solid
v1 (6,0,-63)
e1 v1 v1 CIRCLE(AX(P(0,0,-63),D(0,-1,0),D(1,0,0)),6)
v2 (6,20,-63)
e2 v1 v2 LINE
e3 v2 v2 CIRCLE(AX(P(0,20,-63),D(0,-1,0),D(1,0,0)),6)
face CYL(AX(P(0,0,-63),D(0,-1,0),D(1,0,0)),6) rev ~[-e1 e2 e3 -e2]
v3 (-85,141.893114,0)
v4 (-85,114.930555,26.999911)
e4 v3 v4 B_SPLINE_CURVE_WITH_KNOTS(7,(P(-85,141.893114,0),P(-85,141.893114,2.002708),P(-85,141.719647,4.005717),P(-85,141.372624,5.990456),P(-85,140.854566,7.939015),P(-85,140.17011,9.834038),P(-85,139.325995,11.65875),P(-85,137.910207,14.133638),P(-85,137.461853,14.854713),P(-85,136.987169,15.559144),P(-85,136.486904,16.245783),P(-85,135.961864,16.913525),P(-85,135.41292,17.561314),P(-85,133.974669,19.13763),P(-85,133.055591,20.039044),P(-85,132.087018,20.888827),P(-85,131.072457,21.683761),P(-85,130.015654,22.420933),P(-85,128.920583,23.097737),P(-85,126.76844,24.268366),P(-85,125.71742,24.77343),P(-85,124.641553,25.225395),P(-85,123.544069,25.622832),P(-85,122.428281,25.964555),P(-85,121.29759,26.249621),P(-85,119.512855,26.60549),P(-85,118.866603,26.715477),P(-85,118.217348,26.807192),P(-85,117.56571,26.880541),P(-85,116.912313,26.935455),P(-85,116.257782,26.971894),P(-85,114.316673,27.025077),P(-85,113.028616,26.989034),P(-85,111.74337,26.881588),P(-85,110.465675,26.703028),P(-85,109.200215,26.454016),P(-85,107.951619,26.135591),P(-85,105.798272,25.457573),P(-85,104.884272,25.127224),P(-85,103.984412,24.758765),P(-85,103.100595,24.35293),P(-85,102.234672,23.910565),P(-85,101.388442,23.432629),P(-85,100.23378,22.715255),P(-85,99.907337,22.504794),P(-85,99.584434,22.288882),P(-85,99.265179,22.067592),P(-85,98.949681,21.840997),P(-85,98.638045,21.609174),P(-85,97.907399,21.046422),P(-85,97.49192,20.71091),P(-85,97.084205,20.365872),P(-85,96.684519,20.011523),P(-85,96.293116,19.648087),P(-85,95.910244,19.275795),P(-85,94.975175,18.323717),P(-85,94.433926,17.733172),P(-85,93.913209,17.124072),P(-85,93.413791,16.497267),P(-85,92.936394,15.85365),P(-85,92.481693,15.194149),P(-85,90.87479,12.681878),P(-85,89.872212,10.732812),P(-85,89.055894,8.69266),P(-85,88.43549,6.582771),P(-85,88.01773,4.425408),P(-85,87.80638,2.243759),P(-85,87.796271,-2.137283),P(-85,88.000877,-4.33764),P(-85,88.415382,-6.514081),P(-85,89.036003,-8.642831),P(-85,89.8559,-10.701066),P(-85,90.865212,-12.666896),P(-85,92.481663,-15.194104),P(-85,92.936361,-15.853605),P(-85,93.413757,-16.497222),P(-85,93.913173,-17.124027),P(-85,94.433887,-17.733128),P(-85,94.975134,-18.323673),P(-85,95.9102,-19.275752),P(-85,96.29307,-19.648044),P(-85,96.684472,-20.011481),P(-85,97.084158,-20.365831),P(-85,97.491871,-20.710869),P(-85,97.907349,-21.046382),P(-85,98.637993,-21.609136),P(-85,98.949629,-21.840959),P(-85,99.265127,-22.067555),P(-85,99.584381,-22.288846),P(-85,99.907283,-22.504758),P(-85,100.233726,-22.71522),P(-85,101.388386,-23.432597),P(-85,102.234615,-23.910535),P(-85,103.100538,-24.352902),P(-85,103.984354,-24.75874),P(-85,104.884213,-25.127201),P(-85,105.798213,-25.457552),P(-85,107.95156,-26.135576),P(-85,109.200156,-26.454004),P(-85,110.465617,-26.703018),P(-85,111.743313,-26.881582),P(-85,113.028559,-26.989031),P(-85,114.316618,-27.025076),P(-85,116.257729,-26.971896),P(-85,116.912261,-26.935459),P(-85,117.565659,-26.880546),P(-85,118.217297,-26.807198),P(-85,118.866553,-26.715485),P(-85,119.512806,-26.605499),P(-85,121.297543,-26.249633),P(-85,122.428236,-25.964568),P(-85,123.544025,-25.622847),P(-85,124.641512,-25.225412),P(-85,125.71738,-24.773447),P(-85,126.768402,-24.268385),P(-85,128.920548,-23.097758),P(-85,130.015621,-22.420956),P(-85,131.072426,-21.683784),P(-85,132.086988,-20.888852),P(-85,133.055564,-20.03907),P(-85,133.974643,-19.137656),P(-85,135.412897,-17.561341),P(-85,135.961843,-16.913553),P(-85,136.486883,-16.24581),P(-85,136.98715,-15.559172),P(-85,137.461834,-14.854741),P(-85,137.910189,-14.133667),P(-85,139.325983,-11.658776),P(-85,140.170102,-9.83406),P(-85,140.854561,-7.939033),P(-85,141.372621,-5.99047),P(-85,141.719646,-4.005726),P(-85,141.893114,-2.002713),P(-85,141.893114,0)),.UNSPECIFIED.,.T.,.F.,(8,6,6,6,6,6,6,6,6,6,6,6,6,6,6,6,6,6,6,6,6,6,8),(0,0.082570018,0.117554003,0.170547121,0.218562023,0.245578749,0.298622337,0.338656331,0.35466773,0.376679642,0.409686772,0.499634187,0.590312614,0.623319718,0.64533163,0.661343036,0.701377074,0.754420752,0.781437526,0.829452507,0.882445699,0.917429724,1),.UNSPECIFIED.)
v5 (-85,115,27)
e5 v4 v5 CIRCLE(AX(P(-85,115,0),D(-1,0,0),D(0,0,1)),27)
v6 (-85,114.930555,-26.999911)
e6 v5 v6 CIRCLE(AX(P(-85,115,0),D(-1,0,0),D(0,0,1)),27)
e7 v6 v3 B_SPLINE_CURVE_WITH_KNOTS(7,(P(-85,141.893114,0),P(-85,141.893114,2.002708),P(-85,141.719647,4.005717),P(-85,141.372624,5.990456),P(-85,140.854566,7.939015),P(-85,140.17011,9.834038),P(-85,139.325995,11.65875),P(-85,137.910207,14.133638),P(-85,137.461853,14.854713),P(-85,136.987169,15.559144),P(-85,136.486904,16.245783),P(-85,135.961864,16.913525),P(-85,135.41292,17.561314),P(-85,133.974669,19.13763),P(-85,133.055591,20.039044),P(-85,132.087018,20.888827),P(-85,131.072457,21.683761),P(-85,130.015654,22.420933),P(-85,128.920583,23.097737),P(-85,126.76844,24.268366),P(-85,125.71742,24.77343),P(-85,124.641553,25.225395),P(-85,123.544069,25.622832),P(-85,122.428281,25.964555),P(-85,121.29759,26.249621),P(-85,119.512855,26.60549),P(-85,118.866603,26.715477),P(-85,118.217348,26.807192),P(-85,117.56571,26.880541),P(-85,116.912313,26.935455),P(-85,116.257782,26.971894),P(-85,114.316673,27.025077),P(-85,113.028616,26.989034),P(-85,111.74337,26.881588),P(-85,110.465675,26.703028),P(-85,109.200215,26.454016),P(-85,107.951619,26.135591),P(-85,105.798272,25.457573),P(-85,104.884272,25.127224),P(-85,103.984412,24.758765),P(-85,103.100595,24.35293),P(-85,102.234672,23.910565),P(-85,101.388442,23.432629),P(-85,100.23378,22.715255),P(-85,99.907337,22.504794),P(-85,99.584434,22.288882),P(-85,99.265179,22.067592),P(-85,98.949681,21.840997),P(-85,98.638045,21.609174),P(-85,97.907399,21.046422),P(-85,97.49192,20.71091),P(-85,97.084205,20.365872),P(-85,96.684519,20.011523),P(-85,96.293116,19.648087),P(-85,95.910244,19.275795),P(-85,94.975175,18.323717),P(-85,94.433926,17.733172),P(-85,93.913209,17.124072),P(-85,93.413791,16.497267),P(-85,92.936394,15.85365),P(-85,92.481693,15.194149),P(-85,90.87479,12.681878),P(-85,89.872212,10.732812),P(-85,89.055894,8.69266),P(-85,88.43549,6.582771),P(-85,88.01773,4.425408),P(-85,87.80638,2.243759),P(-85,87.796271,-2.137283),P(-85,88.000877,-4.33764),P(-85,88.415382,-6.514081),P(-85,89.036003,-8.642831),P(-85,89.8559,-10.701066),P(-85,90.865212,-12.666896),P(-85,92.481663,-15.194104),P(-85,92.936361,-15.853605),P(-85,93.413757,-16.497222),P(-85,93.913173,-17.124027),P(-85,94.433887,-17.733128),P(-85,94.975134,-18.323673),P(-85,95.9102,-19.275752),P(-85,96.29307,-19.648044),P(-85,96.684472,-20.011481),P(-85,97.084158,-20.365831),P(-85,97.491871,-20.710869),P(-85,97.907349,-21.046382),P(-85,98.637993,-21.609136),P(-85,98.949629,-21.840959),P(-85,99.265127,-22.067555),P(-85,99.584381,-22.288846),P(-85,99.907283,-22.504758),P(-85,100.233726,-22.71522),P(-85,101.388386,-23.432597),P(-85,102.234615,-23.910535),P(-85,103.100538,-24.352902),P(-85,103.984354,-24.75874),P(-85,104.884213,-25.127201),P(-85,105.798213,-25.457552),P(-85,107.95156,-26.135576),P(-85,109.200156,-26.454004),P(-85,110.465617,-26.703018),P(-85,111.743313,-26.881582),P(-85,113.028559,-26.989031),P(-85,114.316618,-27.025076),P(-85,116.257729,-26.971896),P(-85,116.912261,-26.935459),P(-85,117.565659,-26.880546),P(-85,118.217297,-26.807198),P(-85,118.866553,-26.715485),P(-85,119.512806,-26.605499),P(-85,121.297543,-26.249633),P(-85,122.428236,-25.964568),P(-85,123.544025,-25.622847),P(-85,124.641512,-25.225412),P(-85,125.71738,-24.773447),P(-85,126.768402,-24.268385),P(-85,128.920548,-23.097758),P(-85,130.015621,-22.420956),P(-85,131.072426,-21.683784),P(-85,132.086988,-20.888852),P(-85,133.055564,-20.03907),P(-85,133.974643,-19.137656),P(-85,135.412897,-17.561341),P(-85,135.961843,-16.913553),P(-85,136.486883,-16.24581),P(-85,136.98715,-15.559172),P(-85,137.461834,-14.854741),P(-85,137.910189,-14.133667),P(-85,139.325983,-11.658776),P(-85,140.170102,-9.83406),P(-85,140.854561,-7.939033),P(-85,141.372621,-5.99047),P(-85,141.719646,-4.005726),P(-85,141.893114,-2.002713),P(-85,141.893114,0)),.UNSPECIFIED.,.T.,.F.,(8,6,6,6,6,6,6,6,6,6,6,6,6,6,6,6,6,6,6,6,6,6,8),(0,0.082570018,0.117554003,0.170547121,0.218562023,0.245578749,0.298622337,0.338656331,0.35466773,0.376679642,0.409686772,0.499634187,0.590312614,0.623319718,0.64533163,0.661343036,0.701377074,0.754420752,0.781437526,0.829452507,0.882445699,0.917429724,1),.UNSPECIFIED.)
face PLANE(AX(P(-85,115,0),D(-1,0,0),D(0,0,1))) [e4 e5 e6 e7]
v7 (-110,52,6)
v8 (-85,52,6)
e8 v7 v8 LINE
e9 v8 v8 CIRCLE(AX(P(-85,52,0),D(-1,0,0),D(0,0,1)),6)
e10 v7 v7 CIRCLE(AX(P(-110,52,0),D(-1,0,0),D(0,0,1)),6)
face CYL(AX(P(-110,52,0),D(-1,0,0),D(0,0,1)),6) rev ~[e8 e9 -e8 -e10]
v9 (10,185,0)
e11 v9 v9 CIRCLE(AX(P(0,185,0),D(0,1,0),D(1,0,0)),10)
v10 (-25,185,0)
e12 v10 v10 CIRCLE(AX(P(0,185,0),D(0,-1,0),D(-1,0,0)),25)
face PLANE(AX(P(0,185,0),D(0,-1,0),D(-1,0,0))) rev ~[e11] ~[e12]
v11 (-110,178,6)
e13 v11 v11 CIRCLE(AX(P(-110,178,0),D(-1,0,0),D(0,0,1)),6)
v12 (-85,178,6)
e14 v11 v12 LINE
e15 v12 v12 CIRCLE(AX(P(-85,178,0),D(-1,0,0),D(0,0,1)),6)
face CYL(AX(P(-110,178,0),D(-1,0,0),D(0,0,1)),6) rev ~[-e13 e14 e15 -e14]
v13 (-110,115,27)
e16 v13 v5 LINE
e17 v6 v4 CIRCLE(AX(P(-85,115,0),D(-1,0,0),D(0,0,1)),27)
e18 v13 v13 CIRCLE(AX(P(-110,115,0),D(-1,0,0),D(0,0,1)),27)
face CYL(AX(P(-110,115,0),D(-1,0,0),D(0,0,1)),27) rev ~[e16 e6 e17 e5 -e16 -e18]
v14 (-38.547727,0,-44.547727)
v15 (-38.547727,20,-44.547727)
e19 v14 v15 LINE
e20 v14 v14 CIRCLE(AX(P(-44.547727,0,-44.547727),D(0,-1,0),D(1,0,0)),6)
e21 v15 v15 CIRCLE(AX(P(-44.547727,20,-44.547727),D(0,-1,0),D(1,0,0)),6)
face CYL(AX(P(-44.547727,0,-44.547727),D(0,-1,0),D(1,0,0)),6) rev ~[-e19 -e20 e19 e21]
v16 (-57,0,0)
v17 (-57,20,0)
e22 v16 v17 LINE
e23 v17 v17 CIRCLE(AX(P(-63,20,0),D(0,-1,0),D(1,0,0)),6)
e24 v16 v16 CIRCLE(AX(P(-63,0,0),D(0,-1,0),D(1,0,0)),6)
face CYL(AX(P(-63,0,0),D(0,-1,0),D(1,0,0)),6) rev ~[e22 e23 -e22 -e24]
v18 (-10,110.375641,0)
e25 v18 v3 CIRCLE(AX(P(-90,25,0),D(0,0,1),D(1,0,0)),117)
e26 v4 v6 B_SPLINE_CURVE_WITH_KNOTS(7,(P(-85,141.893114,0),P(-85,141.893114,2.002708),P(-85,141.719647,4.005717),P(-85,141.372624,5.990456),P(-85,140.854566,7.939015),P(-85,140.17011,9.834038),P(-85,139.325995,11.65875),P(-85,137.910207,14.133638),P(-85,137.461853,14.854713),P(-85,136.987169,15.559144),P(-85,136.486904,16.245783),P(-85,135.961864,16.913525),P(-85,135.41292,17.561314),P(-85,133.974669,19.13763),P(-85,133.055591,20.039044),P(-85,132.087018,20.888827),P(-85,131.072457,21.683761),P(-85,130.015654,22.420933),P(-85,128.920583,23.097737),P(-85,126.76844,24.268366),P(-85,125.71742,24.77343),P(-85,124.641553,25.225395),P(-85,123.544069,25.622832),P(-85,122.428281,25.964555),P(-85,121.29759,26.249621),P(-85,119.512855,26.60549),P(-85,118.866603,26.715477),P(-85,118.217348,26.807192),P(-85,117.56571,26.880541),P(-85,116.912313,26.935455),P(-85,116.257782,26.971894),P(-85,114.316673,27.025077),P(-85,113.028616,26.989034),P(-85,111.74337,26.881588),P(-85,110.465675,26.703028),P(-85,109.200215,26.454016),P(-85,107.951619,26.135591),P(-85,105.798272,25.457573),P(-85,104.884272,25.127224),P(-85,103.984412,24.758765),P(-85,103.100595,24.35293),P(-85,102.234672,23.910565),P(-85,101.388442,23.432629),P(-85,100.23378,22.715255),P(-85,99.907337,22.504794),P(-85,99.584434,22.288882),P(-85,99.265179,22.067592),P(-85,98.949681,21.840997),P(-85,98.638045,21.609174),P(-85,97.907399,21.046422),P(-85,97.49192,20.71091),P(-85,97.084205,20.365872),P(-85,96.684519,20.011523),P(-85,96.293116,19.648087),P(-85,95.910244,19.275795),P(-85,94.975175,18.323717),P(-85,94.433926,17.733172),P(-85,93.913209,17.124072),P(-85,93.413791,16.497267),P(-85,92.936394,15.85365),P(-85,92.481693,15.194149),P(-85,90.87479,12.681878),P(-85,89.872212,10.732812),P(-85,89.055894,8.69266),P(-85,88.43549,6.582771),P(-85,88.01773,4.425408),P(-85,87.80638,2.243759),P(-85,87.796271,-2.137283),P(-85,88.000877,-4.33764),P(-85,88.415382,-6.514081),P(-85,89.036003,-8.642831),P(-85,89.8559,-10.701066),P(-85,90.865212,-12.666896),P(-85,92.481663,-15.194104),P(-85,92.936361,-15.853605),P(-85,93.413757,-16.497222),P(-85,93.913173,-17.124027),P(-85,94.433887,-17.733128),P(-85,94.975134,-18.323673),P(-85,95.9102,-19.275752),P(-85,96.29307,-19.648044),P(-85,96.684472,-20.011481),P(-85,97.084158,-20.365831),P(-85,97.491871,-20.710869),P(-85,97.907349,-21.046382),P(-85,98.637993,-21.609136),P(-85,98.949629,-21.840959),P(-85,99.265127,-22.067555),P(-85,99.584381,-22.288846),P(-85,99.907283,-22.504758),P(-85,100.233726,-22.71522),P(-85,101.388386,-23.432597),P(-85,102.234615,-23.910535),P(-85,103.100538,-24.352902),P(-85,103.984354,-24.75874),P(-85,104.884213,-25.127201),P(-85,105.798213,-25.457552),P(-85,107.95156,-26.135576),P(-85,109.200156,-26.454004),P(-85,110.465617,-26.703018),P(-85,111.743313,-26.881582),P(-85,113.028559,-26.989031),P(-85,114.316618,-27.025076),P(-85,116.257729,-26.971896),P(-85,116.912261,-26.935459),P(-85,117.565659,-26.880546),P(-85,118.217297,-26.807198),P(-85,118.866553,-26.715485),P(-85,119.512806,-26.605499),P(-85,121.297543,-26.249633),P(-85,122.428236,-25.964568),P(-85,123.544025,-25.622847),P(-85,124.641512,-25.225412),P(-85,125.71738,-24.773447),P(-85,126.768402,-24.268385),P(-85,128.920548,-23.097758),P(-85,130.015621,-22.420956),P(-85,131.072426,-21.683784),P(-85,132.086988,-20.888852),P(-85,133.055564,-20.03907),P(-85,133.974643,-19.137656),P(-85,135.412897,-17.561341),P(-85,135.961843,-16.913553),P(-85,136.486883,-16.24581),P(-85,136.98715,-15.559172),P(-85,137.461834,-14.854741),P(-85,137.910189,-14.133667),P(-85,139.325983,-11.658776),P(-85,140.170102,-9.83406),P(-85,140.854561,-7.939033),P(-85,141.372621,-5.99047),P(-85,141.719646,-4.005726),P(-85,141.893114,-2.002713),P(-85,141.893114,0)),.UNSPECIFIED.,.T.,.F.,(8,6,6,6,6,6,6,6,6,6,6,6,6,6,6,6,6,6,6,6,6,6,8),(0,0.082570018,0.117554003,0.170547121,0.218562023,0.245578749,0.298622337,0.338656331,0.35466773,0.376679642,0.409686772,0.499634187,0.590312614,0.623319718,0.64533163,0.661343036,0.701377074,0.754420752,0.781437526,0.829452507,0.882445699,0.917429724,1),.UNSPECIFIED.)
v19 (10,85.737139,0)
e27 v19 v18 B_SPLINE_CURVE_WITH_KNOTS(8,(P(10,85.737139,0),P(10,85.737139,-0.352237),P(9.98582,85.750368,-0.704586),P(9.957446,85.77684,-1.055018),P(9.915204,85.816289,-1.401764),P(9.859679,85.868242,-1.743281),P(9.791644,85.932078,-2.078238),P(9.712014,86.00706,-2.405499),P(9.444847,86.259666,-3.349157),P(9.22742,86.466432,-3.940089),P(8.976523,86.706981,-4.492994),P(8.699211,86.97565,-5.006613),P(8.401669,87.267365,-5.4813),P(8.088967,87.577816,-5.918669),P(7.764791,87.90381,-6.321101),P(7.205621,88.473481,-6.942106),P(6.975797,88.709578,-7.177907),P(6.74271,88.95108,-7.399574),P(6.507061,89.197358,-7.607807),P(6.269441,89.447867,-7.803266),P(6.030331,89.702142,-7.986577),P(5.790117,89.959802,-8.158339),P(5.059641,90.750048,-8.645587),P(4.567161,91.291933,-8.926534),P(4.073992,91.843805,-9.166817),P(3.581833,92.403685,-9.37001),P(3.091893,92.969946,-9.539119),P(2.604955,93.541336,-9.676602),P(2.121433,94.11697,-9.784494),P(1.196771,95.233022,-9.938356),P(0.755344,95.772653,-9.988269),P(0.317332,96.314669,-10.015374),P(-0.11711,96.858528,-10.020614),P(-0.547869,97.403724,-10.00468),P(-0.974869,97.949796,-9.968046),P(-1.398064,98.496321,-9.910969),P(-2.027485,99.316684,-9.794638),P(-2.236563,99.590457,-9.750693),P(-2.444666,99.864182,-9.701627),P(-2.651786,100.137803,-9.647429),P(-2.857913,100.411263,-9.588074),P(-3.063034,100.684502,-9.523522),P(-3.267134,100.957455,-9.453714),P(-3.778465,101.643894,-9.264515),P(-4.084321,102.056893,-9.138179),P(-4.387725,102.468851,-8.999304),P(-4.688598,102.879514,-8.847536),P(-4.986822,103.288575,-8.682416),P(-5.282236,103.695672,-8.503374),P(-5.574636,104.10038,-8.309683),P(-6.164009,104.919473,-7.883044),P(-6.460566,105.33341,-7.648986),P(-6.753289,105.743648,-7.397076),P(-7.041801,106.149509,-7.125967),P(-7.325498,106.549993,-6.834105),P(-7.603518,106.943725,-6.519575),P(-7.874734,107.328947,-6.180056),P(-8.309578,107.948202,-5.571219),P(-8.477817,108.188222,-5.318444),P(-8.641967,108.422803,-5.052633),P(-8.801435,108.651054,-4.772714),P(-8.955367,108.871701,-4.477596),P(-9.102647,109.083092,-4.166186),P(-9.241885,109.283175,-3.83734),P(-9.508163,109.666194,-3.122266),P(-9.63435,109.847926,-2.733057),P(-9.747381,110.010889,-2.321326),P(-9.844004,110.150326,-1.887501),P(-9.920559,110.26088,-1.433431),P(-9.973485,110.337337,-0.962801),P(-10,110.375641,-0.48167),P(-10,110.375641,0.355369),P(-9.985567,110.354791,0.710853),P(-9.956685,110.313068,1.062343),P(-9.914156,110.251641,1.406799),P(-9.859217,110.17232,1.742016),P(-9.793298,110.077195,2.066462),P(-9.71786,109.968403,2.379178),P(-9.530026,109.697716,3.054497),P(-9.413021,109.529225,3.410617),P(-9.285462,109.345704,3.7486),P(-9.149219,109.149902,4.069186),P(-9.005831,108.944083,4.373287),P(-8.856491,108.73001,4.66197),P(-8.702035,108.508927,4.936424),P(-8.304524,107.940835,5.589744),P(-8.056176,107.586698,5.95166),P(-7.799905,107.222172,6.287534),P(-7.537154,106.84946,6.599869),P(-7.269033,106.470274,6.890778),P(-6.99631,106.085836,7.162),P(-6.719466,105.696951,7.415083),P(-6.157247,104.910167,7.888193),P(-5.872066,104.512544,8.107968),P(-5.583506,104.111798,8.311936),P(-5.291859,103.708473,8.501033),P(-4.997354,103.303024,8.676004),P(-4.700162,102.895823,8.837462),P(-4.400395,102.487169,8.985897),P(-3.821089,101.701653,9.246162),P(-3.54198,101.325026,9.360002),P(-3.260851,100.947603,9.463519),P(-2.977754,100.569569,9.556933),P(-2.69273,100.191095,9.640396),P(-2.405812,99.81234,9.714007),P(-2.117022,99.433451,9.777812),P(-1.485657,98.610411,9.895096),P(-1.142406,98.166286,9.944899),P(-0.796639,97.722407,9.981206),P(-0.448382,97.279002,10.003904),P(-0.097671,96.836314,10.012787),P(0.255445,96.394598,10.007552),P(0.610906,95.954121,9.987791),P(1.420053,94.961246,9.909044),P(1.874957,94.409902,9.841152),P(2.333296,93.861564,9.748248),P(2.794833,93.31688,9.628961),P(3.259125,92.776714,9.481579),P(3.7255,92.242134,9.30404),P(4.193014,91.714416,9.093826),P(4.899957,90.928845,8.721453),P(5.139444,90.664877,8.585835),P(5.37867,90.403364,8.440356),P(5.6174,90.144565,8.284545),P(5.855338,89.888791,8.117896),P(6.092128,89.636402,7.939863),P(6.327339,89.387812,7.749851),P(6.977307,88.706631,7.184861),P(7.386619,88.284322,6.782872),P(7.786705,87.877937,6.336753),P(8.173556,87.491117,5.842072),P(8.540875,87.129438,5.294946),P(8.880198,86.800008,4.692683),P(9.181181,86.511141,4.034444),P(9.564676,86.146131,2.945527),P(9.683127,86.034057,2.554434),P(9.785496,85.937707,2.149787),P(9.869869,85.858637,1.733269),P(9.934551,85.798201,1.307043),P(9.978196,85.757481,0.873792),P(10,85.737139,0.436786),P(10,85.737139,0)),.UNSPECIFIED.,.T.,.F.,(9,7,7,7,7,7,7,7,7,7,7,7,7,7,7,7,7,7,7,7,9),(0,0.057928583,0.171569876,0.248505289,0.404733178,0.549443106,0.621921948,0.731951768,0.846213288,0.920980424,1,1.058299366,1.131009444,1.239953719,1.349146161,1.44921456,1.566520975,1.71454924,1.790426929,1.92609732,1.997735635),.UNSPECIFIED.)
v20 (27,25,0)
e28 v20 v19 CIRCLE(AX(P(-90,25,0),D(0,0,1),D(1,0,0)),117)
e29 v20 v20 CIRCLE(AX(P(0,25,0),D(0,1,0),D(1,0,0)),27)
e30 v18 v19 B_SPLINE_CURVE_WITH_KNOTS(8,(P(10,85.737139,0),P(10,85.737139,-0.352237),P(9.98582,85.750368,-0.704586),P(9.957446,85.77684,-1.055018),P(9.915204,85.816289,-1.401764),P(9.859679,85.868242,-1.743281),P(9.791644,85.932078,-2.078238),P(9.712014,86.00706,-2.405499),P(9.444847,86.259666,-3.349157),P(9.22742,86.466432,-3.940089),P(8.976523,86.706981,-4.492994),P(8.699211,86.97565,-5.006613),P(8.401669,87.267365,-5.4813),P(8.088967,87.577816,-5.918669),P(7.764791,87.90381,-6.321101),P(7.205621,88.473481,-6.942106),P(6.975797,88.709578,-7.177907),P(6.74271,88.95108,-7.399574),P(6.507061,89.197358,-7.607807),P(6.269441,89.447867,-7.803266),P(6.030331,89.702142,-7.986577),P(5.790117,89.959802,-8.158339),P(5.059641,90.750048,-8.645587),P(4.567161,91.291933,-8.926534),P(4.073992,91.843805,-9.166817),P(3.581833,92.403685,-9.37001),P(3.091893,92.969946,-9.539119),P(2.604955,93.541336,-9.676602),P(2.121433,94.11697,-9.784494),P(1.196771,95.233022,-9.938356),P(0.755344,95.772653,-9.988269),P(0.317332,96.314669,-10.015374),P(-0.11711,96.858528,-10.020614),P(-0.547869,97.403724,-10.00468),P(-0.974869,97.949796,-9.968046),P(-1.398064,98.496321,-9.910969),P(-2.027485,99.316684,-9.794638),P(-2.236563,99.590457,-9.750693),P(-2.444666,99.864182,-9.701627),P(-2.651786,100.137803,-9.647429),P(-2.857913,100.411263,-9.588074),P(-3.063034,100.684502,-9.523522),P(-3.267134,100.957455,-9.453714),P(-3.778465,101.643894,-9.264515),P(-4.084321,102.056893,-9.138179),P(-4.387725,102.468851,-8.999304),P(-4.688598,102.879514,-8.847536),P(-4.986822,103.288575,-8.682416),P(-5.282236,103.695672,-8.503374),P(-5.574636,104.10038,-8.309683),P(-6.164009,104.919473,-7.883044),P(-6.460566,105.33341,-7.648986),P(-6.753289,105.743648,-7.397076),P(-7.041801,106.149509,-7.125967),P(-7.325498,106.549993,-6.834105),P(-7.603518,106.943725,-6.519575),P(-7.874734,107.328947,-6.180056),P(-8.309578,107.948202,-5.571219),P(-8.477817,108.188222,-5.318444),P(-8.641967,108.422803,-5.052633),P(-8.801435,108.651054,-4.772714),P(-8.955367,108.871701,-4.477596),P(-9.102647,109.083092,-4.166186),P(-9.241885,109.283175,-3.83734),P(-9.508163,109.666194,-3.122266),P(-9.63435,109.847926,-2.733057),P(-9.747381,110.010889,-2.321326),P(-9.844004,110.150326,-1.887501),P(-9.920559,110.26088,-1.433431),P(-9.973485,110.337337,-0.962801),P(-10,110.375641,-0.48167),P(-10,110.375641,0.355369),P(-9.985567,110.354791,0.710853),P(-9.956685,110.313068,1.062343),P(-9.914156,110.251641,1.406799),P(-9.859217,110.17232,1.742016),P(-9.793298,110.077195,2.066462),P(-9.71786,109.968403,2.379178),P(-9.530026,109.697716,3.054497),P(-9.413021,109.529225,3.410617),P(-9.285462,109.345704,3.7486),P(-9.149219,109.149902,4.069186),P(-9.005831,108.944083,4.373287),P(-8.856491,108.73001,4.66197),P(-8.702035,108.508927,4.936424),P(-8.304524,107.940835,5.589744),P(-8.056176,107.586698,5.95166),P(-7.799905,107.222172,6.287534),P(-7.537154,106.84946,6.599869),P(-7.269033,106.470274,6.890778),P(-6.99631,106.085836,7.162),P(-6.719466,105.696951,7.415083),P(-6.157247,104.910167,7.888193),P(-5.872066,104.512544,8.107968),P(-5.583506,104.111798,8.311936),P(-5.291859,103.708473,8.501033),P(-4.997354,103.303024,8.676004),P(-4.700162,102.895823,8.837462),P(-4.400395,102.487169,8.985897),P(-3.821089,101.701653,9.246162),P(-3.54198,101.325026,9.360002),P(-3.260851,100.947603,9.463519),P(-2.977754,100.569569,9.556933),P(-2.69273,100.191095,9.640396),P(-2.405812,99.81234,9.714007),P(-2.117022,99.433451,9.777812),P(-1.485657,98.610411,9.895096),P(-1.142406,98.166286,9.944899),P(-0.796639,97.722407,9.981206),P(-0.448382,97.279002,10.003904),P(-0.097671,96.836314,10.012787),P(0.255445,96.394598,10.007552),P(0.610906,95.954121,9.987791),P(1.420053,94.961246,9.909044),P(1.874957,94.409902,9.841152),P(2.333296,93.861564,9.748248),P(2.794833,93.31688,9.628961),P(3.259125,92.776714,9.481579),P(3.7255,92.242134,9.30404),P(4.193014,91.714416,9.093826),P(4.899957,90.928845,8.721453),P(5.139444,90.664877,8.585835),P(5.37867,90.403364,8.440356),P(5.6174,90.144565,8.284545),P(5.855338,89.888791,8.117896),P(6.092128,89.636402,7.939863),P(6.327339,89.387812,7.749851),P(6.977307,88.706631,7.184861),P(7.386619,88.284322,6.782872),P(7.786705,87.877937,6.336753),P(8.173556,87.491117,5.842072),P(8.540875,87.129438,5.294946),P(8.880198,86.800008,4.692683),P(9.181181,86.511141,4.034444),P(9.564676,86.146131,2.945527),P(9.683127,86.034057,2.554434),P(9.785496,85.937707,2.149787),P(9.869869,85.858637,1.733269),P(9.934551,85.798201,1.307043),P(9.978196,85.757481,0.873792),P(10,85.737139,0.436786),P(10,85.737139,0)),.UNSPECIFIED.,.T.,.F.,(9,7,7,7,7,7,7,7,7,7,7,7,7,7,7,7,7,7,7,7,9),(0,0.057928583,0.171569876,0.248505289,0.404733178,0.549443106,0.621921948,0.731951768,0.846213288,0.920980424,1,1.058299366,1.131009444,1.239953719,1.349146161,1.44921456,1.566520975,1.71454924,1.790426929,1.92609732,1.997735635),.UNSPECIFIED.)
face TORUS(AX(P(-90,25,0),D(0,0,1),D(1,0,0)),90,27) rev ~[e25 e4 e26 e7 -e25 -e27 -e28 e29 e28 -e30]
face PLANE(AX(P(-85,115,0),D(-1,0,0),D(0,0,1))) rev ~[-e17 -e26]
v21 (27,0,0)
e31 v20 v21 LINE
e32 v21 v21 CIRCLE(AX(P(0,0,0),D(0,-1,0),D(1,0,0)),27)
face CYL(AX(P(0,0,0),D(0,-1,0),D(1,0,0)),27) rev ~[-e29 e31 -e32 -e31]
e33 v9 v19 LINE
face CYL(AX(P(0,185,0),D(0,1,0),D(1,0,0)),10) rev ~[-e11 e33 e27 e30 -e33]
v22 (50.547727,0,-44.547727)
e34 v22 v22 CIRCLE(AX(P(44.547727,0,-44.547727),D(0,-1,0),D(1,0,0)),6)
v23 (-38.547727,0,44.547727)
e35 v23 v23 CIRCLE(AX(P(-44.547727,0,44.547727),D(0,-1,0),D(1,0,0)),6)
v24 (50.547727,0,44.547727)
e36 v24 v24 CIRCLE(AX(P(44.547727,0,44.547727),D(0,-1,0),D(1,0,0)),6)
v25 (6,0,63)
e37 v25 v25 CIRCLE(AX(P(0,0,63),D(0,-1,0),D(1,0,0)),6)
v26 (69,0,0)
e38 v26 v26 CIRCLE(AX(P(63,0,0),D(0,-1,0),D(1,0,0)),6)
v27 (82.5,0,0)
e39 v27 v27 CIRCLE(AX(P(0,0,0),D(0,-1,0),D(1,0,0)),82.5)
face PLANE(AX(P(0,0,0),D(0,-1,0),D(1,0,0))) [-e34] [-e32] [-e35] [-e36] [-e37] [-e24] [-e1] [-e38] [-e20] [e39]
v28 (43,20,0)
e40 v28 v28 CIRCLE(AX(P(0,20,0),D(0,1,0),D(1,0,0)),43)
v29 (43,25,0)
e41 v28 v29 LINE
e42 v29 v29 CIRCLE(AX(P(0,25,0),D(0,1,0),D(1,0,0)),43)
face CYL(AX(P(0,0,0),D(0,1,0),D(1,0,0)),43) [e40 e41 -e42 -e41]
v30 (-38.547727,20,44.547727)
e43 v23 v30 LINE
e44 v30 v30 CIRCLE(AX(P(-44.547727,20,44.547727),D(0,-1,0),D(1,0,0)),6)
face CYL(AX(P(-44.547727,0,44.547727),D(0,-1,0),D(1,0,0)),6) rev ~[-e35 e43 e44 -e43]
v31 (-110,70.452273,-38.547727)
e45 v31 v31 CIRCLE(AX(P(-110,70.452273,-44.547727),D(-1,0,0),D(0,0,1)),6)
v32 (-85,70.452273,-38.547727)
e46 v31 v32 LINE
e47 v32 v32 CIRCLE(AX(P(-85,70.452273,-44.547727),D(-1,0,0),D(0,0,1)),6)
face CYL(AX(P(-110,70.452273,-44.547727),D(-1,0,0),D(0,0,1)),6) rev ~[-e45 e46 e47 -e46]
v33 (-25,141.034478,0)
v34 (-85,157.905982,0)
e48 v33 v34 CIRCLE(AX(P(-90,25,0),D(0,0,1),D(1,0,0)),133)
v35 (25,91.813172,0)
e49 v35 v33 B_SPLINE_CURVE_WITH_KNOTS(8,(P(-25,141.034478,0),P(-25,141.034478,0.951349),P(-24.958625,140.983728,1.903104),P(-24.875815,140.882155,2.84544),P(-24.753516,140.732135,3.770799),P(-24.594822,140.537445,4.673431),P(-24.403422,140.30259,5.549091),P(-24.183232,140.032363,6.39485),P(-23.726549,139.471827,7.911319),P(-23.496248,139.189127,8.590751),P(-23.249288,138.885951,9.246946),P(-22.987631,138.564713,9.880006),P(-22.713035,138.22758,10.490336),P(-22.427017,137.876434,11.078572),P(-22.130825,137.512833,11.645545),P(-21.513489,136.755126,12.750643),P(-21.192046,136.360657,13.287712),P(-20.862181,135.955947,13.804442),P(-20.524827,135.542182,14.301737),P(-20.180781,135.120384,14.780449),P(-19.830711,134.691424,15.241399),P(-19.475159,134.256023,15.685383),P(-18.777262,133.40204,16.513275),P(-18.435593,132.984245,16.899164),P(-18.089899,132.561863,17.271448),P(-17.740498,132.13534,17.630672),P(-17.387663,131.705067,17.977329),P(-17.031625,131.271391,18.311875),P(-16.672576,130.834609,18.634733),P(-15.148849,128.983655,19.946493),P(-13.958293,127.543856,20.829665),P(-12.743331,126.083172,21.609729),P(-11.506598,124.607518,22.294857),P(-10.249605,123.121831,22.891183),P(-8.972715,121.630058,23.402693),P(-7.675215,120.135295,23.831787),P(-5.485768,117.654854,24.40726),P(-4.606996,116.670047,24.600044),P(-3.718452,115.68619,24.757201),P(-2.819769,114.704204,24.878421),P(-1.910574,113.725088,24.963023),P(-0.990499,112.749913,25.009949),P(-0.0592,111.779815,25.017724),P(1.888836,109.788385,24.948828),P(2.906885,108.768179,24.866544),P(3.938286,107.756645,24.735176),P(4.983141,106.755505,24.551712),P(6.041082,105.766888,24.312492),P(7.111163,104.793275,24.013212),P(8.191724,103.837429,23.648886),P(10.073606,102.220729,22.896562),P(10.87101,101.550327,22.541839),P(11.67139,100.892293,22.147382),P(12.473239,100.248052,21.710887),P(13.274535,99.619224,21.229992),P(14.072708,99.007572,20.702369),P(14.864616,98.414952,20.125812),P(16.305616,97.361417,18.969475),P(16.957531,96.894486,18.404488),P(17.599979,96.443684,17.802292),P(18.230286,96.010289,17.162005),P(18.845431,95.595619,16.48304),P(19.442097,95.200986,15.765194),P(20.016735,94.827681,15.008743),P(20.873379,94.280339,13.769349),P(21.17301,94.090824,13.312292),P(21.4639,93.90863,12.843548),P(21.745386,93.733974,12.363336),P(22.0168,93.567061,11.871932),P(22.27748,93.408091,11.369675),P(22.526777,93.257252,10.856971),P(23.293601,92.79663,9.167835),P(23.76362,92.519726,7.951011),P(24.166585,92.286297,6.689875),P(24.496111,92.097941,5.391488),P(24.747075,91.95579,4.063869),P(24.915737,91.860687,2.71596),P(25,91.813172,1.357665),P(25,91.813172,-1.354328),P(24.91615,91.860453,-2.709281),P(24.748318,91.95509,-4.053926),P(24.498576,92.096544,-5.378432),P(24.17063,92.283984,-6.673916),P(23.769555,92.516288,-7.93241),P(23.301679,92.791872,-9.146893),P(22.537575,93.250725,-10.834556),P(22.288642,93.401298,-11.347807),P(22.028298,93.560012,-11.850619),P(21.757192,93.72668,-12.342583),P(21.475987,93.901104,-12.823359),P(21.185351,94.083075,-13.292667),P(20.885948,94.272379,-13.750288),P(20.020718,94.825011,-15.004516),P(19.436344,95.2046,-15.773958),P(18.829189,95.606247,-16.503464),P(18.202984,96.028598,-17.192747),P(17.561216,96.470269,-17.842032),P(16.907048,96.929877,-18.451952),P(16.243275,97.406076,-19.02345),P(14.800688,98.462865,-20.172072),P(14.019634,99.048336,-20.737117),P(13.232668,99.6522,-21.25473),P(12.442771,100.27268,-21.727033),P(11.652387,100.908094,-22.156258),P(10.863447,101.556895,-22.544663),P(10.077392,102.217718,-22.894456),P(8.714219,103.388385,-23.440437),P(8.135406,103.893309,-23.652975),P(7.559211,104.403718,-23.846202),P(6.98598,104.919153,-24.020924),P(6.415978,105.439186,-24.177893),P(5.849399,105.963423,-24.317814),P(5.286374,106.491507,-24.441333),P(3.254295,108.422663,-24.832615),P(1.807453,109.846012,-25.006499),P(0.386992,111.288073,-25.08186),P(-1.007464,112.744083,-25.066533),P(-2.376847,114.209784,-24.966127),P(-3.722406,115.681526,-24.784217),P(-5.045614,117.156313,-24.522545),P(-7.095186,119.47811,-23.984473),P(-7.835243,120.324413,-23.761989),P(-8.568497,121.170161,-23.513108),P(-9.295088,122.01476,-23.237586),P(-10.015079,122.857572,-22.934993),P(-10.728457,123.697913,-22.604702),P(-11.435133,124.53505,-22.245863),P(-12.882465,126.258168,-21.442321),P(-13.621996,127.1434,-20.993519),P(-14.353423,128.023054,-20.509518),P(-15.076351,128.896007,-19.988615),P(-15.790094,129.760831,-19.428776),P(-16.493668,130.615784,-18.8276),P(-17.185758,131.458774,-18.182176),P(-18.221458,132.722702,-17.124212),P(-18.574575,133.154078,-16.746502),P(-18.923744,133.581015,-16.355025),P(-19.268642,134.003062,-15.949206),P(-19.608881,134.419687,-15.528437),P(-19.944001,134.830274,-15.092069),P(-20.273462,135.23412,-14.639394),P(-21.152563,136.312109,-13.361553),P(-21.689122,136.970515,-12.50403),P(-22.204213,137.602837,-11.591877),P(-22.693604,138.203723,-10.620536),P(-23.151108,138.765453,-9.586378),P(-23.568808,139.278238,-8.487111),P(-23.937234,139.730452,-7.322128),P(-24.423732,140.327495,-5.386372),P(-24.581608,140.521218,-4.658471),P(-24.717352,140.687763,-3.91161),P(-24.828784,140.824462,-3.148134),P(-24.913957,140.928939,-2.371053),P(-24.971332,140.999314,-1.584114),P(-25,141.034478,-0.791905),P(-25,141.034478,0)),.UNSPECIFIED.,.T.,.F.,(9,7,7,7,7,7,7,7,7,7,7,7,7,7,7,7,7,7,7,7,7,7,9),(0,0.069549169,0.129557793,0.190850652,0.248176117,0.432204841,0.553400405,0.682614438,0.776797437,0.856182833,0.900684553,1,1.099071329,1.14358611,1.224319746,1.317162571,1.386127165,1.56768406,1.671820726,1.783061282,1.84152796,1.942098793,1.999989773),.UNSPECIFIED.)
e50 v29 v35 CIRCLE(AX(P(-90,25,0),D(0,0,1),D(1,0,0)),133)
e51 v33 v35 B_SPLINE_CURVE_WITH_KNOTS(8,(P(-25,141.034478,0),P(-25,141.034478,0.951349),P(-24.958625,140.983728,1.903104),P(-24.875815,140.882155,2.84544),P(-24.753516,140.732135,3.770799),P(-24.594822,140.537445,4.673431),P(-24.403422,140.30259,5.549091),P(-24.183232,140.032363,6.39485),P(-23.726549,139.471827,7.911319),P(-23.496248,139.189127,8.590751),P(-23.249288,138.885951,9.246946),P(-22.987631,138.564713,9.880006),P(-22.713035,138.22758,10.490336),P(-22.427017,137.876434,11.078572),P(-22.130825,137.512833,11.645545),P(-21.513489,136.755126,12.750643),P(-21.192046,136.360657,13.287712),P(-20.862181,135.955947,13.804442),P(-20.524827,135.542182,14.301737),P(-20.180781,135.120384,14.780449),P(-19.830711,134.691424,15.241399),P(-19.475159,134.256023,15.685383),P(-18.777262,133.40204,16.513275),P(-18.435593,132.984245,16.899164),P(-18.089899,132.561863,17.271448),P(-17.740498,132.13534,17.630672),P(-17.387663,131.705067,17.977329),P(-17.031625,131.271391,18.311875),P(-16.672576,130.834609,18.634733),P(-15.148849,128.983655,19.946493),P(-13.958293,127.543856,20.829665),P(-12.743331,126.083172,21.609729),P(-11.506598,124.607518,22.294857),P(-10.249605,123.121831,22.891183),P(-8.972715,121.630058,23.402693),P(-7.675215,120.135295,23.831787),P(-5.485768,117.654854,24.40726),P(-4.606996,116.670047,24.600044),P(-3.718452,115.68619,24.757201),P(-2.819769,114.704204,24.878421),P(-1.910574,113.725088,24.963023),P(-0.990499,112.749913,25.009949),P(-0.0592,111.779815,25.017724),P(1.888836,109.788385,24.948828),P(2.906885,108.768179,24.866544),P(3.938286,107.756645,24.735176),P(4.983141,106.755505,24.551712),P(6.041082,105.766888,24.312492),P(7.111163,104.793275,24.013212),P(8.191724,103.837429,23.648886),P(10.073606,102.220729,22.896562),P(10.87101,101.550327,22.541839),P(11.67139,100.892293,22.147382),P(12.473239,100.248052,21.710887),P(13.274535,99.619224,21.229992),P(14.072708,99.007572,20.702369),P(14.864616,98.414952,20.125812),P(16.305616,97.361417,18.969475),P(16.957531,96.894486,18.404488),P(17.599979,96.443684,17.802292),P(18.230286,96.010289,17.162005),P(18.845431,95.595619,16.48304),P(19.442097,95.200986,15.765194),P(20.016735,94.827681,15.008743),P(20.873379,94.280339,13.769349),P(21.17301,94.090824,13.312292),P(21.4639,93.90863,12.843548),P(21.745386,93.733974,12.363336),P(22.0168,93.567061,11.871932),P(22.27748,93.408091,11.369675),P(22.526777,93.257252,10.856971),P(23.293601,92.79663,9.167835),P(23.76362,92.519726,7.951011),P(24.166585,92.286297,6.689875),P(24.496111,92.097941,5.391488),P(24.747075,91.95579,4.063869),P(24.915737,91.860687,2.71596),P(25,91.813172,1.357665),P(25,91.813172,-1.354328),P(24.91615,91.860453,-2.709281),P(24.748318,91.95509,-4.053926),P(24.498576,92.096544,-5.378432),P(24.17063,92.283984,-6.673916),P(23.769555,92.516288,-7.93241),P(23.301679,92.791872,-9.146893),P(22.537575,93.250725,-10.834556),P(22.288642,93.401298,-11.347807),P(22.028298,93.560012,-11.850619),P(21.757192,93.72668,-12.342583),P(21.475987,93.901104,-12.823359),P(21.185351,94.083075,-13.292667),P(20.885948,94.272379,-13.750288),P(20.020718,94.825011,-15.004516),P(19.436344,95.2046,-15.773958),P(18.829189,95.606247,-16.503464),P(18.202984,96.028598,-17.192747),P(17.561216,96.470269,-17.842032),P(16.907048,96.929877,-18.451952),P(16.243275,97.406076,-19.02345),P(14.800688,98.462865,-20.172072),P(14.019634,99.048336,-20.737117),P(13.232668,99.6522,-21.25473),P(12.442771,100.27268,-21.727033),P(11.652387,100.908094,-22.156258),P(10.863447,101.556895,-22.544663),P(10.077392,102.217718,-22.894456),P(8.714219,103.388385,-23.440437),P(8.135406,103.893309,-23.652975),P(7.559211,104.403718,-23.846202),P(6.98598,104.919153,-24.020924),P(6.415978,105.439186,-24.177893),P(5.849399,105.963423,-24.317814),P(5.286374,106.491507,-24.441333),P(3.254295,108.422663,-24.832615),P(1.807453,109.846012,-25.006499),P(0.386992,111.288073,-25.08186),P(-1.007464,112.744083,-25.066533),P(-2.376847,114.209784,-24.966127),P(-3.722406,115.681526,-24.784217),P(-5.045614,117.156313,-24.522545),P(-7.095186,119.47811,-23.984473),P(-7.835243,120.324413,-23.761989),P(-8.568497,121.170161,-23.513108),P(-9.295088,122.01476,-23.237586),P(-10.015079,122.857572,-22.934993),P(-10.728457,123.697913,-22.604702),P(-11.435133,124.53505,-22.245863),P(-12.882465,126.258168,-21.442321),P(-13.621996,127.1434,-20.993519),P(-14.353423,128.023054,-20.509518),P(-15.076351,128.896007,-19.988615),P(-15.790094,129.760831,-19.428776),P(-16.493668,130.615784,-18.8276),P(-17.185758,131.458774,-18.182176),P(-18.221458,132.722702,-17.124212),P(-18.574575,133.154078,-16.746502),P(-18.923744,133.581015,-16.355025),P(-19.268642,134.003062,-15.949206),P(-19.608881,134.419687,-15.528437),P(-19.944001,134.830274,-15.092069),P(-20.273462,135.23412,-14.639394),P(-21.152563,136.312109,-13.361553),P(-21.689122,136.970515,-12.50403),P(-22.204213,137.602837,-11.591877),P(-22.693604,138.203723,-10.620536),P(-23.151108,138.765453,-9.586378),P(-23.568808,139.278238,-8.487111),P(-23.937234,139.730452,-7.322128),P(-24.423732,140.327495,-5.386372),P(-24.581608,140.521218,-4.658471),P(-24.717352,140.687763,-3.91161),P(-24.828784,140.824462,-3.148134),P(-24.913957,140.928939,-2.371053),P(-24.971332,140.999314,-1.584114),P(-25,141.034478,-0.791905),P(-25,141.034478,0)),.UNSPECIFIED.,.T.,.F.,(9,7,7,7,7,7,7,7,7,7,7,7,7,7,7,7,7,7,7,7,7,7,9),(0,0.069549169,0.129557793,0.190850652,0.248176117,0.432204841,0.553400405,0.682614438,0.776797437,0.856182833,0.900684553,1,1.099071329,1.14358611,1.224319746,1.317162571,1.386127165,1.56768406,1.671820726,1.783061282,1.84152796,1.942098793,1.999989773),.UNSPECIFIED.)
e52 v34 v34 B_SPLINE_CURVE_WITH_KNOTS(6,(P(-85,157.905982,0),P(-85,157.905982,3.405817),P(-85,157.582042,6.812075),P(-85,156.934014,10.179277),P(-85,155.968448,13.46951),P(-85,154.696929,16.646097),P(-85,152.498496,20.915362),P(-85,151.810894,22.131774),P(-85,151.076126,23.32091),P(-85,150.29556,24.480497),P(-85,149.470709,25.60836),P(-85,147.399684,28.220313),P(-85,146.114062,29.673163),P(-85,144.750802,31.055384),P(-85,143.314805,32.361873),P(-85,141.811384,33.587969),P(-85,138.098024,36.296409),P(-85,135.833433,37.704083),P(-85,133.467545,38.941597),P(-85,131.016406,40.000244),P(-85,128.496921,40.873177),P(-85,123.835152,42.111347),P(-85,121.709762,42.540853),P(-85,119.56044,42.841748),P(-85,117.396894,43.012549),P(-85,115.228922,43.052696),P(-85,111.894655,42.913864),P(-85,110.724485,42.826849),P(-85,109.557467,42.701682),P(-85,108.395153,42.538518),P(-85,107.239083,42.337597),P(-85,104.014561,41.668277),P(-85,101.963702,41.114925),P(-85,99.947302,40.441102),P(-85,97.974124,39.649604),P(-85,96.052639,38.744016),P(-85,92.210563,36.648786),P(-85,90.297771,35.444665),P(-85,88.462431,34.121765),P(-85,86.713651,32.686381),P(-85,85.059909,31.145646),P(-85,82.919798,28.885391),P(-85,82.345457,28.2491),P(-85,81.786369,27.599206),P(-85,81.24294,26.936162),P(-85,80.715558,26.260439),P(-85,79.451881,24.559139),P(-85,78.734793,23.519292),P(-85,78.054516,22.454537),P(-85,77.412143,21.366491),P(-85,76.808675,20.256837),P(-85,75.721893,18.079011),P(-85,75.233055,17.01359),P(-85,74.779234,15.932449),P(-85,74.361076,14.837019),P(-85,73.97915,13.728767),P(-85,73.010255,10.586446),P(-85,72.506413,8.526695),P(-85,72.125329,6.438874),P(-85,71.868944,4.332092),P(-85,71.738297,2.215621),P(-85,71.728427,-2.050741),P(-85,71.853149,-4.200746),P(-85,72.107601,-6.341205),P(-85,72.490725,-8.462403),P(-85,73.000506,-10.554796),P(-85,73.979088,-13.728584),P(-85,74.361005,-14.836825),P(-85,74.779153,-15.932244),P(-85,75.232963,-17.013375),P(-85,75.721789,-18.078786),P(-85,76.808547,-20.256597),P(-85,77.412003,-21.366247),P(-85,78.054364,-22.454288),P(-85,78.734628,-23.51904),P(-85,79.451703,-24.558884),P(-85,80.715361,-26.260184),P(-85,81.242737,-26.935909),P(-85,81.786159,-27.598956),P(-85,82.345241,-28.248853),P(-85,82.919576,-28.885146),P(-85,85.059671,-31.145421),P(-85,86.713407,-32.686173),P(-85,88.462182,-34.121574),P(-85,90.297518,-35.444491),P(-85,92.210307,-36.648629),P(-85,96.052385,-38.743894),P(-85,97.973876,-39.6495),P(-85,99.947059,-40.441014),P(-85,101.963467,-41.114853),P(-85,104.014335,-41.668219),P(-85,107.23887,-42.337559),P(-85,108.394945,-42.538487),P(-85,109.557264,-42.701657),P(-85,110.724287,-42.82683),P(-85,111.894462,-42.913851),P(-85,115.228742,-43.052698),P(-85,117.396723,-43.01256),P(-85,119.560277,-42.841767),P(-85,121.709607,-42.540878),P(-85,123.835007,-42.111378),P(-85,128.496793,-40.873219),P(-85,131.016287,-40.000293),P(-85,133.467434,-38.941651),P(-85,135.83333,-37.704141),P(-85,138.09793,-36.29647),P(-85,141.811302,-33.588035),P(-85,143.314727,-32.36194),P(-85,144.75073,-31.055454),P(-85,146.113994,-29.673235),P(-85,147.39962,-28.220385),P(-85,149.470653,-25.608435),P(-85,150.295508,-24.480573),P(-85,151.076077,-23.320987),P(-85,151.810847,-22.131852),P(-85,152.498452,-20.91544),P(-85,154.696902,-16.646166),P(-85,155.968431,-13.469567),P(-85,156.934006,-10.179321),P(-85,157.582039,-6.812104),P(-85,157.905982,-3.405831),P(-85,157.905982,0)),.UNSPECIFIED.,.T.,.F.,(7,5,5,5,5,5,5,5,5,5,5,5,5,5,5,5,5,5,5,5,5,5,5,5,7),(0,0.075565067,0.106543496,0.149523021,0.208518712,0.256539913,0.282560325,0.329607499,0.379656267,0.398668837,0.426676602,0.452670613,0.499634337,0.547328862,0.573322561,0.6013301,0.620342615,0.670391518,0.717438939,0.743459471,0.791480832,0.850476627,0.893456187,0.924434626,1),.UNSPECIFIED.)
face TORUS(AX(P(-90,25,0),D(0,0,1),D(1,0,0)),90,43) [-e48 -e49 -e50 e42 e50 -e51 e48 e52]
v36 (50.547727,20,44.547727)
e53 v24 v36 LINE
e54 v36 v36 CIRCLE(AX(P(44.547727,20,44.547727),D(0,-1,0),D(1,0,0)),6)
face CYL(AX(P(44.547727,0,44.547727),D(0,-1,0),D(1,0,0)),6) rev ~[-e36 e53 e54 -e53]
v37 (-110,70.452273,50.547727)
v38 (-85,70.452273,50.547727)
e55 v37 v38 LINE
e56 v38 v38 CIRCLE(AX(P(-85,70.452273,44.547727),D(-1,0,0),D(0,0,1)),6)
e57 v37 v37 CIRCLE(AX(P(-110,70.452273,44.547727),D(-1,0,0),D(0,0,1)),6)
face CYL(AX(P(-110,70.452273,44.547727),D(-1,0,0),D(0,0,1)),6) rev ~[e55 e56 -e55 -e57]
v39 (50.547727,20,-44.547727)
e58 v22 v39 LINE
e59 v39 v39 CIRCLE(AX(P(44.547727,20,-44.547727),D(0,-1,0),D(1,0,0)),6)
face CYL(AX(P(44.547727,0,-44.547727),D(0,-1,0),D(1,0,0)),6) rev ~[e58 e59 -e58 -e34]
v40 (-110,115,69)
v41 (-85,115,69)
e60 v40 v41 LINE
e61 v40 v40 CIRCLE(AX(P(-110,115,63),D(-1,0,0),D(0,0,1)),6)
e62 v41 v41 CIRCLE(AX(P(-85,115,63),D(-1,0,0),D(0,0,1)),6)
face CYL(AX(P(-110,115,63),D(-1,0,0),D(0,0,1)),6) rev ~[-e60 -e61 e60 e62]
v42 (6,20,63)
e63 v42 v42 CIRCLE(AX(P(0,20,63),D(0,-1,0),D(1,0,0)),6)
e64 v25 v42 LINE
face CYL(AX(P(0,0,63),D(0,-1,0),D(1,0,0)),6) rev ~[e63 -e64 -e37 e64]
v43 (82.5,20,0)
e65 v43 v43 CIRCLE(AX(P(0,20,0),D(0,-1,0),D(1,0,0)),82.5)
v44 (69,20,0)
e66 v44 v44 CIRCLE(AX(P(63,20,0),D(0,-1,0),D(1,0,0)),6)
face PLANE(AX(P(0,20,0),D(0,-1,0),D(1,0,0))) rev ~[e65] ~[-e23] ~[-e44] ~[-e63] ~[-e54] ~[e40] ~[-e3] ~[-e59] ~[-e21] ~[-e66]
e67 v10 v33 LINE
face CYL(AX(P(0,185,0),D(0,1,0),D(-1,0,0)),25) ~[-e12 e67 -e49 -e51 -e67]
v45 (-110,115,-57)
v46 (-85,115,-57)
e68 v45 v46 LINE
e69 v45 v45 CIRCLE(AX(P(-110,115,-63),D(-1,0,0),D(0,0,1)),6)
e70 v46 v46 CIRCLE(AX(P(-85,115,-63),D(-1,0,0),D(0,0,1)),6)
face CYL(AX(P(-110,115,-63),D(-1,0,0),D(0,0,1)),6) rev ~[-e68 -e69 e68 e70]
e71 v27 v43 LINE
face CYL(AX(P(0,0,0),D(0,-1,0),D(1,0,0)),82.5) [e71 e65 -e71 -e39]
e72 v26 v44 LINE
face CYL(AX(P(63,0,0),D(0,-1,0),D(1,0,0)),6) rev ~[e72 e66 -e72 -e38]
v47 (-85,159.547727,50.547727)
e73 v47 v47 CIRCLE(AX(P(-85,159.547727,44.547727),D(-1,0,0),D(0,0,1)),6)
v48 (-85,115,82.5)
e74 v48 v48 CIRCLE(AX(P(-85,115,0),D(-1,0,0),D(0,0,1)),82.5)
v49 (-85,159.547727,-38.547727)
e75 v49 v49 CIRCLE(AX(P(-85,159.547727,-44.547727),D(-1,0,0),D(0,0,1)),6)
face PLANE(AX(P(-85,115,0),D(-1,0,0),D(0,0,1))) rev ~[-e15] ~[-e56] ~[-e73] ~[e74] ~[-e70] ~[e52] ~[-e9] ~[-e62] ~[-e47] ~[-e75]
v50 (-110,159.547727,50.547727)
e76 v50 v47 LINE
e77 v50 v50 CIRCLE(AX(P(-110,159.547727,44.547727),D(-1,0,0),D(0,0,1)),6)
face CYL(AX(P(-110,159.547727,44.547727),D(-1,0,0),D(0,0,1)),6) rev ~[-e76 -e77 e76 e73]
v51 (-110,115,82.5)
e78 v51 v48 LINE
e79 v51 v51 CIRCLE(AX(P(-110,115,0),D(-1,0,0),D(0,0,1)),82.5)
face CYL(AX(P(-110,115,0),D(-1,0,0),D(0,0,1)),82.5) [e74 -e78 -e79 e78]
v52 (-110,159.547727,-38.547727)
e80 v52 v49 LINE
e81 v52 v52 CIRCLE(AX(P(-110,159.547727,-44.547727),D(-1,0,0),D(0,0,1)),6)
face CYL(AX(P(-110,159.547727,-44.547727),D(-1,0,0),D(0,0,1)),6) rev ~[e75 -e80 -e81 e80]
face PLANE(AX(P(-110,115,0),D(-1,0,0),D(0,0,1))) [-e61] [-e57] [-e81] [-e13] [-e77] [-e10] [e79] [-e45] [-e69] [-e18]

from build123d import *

# Parameters (mm, degrees)
SKETCH6_R           = 43
SKETCH6_R_2         = 27
BOSS_EXTRUDE1_REACH = 187
SKETCH7_R           = 25
CUT_EXTRUDE1_REACH  = 187
SKETCH8_R           = 10
SKETCH9_R           = 82.5
BOSS_EXTRUDE2_DEPTH = 20
SKETCH10_R          = 27
CUT_EXTRUDE2_DEPTH  = 20
SKETCH11_R          = 6
CUT_EXTRUDE3_DEPTH  = 20
SKETCH12_R          = 82.5
BOSS_EXTRUDE3_DEPTH = 25
SKETCH13_R          = 6
CUT_EXTRUDE4_DEPTH  = 25
SKETCH14_R          = 27
CUT_EXTRUDE5_DEPTH  = 25


with BuildPart() as part:
    # Sweep-Thin1: sweep along a path in Sketch5
    with BuildLine(Plane.XY) as sweep_thin1_path:
        Line((0, 0), (0, 25))
        ThreePointArc((0, 25), (-26.360389693, 88.639610307), (-90, 115))
        Line((-90, 115), (-110, 115))
    # Sketch6 → Sweep-Thin1 (sweep)
    with BuildSketch(Plane(origin=(0, 0, 0), x_dir=(1, 0, 0), z_dir=(0, 1, 0))):
        Circle(SKETCH6_R)
        Circle(SKETCH6_R_2, mode=Mode.SUBTRACT)
    sweep(path=sweep_thin1_path.line)

    # Sketch7 → Boss-Extrude1 (add, up to next)
    with BuildSketch(Plane(origin=(0, 185, 0), x_dir=(-1, 0, 0), z_dir=(0, -1, 0)), mode=Mode.PRIVATE) as boss_extrude1_sk1:
        Circle(SKETCH7_R)
    boss_extrude1_tool1 = extrude(boss_extrude1_sk1.sketch, amount=BOSS_EXTRUDE1_REACH, mode=Mode.PRIVATE) - part.part
    add(boss_extrude1_tool1.solids().sort_by_distance((0, 185, 0))[0])

    # Sketch8 → Cut-Extrude1 (cut, up to next)
    with BuildSketch(Plane(origin=(0, 185, 0), x_dir=(1, 0, 0), z_dir=(0, 1, 0)), mode=Mode.PRIVATE) as cut_extrude1_sk1:
        Circle(SKETCH8_R)
    cut_extrude1_tool1 = extrude(cut_extrude1_sk1.sketch, amount=-CUT_EXTRUDE1_REACH, mode=Mode.PRIVATE) & part.part
    add(cut_extrude1_tool1.solids().sort_by_distance((0, 185, 0))[0], mode=Mode.SUBTRACT)

    # Sketch9 → Boss-Extrude2 (add)
    with BuildSketch(Plane.XZ):
        Circle(SKETCH9_R)
    extrude(amount=-BOSS_EXTRUDE2_DEPTH)

    # Sketch10 → Cut-Extrude2 (cut)
    with BuildSketch(Plane.XZ):
        Circle(SKETCH10_R)
    extrude(amount=-CUT_EXTRUDE2_DEPTH, mode=Mode.SUBTRACT)

    # Sketch11 → Cut-Extrude3 (cut)
    with BuildSketch(Plane.XZ):
        with Locations((-63, 0)):
            Circle(SKETCH11_R)
        with Locations((-44.547727215, 44.547727215)):
            Circle(SKETCH11_R)
        with Locations((0, 63)):
            Circle(SKETCH11_R)
        with Locations((44.547727215, 44.547727215)):
            Circle(SKETCH11_R)
        with Locations((63, 0)):
            Circle(SKETCH11_R)
        with Locations((44.547727215, -44.547727215)):
            Circle(SKETCH11_R)
        with Locations((0, -63)):
            Circle(SKETCH11_R)
        with Locations((-44.547727215, -44.547727215)):
            Circle(SKETCH11_R)
    extrude(amount=-CUT_EXTRUDE3_DEPTH, mode=Mode.SUBTRACT)

    # Sketch12 → Boss-Extrude3 (add)
    with BuildSketch(Plane.ZY.offset(110)):
        with Locations((0, 115)):
            Circle(SKETCH12_R)
    extrude(amount=-BOSS_EXTRUDE3_DEPTH)

    # Sketch13 → Cut-Extrude4 (cut)
    with BuildSketch(Plane.ZY.offset(110)):
        with Locations((-63, 115)):
            Circle(SKETCH13_R)
        with Locations((-44.547727215, 159.547727215)):
            Circle(SKETCH13_R)
        with Locations((0, 178)):
            Circle(SKETCH13_R)
        with Locations((44.547727215, 159.547727215)):
            Circle(SKETCH13_R)
        with Locations((63, 115)):
            Circle(SKETCH13_R)
        with Locations((44.547727215, 70.452272785)):
            Circle(SKETCH13_R)
        with Locations((0, 52)):
            Circle(SKETCH13_R)
        with Locations((-44.547727215, 70.452272785)):
            Circle(SKETCH13_R)
    extrude(amount=-CUT_EXTRUDE4_DEPTH, mode=Mode.SUBTRACT)

    # Sketch14 → Cut-Extrude5 (cut)
    with BuildSketch(Plane.ZY.offset(110)):
        with Locations((0, 115)):
            Circle(SKETCH14_R)
    extrude(amount=-CUT_EXTRUDE5_DEPTH, mode=Mode.SUBTRACT)


solid = part.part
